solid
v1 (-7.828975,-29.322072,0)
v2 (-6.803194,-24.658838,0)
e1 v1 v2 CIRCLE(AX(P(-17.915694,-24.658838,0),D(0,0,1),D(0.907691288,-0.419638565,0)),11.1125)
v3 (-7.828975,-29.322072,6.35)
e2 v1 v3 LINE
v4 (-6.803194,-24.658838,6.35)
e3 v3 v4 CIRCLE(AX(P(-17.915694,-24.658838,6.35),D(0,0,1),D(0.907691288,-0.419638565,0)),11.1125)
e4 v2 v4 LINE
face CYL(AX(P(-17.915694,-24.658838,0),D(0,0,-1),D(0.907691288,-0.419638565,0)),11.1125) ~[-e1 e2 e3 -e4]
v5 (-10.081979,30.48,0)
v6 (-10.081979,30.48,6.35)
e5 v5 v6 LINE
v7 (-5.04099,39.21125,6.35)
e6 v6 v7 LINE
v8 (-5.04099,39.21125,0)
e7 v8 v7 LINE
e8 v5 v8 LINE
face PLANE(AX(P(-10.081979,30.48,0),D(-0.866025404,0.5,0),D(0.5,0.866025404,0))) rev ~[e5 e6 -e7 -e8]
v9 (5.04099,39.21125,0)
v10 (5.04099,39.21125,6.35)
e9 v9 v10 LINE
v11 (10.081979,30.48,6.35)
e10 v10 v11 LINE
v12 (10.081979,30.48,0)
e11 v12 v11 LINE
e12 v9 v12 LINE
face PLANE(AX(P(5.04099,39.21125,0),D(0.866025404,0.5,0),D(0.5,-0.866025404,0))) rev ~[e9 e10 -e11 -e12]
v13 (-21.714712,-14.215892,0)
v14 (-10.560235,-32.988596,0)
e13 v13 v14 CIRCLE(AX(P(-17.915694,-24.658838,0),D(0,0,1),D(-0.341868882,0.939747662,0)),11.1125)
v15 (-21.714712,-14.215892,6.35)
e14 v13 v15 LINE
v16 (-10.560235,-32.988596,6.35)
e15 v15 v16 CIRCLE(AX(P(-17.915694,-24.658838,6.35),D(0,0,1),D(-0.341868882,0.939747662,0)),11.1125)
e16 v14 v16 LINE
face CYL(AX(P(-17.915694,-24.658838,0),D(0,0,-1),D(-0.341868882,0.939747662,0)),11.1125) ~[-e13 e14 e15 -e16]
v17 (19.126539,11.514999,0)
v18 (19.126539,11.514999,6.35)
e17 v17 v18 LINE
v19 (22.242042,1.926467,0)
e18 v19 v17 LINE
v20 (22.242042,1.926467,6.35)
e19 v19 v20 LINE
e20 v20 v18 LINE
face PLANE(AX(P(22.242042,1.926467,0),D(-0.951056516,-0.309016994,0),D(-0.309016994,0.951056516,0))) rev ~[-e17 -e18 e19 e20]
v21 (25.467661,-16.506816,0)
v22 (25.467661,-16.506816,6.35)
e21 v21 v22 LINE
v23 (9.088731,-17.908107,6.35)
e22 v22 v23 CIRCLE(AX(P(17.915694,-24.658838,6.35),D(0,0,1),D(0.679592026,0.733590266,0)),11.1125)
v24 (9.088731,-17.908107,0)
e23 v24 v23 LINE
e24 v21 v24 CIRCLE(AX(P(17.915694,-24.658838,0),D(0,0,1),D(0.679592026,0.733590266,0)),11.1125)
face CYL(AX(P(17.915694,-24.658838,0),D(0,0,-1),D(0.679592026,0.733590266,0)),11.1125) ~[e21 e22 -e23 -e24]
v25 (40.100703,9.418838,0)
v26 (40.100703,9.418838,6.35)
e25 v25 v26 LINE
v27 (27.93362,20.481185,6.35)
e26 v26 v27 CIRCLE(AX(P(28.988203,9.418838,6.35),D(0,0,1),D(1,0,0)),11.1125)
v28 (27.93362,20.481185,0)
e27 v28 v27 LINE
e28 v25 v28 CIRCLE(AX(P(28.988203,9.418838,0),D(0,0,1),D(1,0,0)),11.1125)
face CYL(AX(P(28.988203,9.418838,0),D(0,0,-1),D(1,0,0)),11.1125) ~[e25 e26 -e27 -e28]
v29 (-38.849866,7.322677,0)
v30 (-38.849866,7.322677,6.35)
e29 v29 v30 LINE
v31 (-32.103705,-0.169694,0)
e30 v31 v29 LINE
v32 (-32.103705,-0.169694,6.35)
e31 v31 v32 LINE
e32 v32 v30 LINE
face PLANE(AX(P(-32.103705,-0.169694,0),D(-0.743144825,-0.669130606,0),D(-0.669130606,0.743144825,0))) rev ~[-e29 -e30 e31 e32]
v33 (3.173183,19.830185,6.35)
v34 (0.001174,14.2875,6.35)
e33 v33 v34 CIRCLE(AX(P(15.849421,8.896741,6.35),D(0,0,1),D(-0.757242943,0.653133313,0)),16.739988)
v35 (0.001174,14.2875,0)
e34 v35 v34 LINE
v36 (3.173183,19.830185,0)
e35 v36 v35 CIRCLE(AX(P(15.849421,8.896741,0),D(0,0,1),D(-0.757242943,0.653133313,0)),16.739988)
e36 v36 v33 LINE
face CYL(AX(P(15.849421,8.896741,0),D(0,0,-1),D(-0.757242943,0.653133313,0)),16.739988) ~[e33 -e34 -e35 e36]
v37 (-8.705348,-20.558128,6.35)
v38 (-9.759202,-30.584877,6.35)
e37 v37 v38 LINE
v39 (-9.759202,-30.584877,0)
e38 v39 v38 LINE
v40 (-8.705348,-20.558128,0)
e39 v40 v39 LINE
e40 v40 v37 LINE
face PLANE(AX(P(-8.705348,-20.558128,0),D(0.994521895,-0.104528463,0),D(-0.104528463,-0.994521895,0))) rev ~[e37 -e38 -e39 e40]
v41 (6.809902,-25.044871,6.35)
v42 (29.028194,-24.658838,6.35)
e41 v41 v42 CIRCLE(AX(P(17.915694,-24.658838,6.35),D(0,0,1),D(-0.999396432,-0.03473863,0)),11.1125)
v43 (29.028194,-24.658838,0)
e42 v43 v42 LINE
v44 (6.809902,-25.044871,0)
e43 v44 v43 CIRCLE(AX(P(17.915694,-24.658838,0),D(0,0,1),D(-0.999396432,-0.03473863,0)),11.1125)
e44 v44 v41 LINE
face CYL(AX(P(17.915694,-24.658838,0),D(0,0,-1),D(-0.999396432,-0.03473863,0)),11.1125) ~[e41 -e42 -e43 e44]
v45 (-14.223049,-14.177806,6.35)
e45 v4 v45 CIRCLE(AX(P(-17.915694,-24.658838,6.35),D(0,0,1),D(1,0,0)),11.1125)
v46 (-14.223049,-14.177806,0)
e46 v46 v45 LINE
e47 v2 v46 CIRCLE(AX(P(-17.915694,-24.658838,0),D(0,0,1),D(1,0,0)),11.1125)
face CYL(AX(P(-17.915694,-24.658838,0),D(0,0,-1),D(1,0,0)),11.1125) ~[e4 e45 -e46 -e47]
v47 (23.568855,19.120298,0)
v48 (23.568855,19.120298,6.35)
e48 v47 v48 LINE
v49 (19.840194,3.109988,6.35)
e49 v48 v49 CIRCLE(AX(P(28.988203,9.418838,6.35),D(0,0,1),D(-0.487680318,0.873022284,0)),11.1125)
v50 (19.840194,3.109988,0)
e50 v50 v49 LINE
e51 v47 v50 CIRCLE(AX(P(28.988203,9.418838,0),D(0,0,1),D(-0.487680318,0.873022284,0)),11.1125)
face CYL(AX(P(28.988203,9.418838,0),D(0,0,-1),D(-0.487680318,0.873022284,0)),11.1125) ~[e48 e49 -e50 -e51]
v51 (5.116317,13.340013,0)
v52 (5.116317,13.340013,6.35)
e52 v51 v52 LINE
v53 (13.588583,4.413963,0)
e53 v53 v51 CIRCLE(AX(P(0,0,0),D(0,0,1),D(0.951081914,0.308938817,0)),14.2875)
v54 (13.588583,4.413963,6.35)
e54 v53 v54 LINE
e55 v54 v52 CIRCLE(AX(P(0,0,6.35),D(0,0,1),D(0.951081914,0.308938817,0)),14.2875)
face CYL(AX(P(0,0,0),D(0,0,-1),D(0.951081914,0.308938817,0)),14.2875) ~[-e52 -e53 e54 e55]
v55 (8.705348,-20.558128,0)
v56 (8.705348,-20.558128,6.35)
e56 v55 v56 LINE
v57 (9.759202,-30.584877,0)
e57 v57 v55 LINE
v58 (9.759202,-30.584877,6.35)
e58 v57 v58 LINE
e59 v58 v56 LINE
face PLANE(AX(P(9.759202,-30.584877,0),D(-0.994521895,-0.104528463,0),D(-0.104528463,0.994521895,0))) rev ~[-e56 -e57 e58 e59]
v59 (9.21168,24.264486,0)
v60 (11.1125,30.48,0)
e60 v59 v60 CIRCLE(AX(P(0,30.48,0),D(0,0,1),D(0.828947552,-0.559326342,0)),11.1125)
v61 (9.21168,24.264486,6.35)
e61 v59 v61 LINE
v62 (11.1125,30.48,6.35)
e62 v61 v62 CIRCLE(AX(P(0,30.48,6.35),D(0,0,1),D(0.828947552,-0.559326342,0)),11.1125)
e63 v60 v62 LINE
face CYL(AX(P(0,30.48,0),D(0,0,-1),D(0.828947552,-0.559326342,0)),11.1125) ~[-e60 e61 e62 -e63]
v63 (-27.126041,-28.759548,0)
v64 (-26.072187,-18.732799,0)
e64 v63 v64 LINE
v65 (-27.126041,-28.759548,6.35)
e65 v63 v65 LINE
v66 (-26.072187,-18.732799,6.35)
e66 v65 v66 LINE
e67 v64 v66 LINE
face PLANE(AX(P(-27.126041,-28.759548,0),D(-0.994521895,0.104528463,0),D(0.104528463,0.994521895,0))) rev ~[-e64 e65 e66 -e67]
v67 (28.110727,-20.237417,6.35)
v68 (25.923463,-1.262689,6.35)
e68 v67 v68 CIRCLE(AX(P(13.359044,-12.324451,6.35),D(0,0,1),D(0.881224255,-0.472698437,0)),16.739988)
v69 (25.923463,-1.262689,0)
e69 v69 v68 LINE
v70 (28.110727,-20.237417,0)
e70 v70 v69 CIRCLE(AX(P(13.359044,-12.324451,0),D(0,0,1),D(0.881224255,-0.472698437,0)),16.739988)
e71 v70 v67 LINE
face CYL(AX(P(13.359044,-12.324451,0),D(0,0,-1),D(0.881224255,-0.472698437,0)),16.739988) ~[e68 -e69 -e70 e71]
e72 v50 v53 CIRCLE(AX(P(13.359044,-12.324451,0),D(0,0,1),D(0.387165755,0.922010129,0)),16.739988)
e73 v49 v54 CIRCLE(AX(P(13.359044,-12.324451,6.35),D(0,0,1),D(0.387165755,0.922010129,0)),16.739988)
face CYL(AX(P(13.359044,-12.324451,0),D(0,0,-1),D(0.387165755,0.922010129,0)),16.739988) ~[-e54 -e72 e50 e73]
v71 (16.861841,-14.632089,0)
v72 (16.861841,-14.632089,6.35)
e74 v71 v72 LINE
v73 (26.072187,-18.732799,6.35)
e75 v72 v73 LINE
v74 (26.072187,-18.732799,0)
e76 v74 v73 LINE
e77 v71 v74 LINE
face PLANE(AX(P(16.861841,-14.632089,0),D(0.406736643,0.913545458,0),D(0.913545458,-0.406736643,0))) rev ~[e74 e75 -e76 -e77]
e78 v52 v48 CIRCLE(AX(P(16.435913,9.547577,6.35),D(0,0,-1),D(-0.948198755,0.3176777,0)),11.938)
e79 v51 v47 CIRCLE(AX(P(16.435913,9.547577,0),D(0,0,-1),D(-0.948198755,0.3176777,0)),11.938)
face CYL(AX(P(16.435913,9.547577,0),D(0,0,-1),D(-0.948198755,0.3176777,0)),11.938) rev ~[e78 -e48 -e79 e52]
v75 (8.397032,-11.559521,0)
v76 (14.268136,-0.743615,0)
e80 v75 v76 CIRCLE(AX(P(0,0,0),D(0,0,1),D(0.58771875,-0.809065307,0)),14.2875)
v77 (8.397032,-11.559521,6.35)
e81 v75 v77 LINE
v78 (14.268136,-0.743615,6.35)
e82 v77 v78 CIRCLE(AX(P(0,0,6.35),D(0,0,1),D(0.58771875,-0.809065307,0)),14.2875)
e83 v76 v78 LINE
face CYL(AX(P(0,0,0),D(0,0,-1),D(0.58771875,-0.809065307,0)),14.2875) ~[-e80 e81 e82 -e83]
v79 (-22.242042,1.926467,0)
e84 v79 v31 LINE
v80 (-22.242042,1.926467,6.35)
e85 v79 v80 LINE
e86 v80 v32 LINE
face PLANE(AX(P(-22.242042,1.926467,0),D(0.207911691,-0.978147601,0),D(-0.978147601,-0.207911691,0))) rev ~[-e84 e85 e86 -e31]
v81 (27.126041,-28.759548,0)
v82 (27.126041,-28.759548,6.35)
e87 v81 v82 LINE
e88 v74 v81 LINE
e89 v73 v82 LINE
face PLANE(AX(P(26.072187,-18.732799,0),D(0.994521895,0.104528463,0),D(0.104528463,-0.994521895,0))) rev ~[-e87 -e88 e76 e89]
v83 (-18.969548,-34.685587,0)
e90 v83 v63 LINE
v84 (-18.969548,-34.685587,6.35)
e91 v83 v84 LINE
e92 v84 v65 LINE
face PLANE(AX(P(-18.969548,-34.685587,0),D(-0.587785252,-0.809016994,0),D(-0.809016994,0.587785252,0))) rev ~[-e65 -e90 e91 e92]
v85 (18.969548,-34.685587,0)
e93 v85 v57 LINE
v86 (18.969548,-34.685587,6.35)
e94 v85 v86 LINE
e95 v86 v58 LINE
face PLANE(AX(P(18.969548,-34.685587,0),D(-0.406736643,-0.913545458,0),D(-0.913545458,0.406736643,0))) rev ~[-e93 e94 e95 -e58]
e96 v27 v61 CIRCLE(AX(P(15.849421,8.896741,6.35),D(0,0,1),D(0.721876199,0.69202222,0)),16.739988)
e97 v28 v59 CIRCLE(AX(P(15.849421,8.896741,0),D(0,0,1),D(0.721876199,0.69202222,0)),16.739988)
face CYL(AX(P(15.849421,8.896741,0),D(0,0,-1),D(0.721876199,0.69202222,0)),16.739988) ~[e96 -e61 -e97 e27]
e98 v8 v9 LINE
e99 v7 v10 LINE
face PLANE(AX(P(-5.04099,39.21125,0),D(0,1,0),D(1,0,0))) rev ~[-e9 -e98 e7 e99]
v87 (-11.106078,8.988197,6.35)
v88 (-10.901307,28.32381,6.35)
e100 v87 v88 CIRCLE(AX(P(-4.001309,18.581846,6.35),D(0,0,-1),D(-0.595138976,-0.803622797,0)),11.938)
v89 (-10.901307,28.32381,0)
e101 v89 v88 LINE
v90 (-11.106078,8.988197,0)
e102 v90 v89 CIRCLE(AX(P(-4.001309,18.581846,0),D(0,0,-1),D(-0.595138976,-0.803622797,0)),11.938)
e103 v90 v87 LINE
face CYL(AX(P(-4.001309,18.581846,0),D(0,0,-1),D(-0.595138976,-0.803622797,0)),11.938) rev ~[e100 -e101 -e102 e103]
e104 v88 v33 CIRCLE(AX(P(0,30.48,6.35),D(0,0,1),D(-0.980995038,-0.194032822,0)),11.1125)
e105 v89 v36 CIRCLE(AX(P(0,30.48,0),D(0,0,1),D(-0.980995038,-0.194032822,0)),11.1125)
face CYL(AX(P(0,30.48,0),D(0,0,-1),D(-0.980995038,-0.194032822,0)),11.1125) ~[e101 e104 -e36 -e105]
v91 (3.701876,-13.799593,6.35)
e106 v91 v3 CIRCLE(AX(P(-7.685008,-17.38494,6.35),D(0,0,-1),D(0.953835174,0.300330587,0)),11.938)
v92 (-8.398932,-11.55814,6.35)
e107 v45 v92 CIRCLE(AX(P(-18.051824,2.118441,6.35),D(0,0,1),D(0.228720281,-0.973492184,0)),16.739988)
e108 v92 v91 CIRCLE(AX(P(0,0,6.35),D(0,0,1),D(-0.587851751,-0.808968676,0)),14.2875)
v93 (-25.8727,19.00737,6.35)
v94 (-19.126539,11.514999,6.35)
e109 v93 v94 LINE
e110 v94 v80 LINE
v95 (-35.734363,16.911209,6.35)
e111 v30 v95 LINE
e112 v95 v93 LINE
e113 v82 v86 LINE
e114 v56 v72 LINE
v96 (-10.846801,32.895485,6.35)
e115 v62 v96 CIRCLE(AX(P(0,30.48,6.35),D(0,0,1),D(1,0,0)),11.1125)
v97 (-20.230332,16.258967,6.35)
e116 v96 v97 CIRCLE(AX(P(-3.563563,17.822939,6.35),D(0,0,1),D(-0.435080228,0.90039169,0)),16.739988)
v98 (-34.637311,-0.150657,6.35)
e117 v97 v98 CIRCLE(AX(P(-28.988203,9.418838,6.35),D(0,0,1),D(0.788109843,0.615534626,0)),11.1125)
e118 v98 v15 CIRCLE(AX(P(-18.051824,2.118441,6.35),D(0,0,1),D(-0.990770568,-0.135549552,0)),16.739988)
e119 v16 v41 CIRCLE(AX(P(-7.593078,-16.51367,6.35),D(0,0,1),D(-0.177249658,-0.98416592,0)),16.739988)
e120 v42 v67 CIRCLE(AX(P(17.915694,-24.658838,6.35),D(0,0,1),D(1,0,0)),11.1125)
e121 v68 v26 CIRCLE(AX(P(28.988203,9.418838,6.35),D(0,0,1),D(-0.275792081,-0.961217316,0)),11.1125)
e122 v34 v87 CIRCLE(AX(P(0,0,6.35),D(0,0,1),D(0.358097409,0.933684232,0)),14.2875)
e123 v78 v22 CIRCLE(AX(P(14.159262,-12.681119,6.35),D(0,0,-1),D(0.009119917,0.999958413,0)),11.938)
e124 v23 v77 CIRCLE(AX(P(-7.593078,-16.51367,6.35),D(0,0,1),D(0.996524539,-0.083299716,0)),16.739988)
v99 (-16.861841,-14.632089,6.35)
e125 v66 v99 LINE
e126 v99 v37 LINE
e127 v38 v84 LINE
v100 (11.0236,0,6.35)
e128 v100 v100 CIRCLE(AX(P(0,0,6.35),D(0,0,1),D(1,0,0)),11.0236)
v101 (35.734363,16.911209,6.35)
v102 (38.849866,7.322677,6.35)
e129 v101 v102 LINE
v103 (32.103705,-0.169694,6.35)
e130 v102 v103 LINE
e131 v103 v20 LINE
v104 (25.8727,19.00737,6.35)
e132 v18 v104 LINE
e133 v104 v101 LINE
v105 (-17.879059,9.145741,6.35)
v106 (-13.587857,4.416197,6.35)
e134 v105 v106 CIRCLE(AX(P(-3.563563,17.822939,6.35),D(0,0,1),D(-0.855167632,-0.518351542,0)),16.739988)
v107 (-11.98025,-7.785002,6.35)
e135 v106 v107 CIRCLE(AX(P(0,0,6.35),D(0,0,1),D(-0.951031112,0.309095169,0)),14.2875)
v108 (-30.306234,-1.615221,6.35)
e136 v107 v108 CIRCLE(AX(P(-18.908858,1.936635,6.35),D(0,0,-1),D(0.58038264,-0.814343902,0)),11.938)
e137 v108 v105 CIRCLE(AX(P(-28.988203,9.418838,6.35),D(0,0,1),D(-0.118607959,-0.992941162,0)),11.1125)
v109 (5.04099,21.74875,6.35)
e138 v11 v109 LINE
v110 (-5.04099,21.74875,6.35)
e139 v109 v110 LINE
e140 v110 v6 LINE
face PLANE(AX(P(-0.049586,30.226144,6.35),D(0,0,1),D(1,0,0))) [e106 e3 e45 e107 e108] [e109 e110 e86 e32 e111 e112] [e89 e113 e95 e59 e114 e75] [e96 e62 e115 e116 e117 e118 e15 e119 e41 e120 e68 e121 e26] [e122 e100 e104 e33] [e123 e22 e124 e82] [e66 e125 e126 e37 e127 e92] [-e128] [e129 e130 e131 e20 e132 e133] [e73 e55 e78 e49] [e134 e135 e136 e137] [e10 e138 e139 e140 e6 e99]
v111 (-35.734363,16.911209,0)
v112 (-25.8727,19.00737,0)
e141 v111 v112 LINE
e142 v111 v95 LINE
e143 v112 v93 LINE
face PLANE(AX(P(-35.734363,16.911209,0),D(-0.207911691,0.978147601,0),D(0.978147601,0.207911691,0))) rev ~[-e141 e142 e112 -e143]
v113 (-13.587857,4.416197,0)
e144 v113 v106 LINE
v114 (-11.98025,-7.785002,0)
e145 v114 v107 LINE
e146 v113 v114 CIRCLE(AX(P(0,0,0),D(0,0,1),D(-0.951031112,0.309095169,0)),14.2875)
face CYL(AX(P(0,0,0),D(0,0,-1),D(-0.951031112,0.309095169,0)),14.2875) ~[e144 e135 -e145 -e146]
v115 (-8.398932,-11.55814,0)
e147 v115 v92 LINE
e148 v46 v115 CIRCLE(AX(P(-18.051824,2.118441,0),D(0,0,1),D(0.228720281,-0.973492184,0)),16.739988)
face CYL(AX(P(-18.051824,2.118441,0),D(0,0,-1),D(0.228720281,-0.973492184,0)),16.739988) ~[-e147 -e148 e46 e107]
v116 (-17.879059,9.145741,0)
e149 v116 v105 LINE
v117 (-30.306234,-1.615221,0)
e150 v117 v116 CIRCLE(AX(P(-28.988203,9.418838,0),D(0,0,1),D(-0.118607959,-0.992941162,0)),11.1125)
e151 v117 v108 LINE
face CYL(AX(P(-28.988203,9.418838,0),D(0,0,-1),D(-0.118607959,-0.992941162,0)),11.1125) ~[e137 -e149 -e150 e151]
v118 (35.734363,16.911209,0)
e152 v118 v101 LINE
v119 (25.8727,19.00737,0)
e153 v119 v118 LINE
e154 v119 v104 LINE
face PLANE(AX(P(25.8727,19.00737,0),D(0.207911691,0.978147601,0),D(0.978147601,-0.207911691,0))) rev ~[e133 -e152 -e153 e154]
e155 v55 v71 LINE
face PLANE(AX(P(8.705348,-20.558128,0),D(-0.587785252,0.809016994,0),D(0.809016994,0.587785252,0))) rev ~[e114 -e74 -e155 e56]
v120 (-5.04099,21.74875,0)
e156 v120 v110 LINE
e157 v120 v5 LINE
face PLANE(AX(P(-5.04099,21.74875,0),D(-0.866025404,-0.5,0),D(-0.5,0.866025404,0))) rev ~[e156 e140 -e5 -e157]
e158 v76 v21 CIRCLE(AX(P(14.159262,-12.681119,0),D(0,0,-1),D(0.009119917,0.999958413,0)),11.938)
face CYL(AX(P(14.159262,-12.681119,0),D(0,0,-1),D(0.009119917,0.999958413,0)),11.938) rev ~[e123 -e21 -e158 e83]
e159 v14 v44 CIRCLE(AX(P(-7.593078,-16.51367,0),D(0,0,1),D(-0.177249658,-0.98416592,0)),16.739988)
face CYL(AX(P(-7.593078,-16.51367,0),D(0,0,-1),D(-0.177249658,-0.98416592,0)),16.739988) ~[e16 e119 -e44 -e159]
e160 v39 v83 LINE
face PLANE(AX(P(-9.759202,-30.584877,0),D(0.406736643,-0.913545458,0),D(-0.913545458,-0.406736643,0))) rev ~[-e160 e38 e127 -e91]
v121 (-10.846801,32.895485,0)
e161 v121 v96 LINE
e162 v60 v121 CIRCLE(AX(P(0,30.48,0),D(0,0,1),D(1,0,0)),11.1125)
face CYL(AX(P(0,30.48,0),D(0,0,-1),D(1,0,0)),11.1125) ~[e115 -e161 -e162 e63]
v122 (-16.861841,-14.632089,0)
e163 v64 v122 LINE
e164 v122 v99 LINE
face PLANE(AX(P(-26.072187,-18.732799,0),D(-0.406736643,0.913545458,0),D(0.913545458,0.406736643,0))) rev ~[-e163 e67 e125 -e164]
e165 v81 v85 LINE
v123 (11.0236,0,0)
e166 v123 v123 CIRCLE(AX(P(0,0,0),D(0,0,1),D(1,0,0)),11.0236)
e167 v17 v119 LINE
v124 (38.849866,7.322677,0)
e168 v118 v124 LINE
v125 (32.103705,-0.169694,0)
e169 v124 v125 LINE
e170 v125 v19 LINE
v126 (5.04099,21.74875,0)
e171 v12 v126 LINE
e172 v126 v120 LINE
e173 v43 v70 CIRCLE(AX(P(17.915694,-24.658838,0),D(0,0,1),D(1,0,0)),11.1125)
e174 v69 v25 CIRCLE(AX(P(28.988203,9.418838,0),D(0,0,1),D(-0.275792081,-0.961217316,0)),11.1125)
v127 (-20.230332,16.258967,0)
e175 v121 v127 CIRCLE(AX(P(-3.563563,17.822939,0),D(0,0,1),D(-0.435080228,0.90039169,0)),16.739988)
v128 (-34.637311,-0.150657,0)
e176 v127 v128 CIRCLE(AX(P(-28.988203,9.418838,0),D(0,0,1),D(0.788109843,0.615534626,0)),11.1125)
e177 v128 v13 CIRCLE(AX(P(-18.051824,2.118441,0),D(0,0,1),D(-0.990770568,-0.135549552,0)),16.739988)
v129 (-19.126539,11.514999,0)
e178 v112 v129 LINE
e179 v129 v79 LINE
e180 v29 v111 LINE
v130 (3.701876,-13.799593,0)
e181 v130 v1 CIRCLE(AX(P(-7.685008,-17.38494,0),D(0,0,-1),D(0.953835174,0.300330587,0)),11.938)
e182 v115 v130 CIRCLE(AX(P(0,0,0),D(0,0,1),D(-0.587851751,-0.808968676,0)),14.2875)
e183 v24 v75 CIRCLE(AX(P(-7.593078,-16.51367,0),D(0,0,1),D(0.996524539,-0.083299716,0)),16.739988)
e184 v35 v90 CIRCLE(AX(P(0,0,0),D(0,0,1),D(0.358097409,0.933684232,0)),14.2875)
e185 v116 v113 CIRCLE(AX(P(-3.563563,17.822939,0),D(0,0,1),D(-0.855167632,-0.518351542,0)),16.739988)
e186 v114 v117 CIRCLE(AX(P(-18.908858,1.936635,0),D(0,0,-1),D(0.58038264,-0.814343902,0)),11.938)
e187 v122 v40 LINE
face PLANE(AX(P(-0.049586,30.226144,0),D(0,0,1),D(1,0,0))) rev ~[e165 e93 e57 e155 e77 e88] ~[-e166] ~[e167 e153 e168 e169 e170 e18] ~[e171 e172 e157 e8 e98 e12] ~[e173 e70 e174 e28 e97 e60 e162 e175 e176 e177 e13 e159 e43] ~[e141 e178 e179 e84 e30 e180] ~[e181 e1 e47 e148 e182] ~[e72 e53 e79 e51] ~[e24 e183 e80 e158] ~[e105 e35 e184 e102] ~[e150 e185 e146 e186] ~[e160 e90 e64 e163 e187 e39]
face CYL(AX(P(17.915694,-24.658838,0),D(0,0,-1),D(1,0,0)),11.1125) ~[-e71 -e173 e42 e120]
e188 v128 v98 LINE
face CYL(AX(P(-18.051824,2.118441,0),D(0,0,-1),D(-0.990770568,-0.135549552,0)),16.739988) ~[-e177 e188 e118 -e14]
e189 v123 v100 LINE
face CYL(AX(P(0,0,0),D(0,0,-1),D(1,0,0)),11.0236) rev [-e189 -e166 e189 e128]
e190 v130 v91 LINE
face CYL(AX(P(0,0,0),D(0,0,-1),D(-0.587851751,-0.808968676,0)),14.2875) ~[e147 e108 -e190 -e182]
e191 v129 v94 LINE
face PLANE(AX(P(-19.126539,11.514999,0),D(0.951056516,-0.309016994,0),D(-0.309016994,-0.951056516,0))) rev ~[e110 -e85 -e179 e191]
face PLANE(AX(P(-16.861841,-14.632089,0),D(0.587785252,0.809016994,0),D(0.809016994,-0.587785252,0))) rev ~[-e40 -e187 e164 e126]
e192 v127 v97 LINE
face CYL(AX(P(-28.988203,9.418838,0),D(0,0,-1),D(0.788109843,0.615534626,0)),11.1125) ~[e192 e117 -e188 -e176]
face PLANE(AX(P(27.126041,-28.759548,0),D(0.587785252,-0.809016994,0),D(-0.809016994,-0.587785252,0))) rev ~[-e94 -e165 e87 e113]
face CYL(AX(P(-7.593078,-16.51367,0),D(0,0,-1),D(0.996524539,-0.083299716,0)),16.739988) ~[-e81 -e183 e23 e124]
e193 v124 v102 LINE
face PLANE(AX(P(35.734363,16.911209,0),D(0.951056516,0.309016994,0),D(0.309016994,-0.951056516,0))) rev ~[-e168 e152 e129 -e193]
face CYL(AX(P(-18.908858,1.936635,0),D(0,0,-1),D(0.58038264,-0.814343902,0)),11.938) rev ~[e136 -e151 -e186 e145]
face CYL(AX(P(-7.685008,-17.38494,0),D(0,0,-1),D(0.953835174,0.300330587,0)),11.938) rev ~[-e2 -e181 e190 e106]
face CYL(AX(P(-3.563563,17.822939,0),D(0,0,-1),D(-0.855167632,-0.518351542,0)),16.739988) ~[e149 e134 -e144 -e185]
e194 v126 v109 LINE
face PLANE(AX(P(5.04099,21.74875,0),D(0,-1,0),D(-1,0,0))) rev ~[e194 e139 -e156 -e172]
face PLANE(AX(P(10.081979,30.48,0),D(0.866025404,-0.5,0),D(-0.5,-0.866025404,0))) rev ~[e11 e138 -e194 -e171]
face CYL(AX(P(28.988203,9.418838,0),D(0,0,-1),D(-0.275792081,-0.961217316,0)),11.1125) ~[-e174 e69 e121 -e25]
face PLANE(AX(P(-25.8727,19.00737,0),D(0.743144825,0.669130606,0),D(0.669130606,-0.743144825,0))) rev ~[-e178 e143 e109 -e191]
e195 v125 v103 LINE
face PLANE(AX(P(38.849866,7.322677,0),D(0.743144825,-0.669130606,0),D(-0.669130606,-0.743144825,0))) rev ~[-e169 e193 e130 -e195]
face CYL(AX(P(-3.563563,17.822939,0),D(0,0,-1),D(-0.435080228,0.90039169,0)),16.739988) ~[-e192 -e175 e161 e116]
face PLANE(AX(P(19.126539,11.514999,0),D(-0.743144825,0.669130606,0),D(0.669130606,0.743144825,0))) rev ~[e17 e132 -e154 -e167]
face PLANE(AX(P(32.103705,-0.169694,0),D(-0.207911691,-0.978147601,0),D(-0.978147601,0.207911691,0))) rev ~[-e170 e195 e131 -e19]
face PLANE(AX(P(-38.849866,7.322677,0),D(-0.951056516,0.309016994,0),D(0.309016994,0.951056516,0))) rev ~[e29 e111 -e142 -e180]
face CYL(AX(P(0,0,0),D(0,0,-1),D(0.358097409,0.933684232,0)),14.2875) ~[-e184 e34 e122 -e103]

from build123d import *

# Parameters (mm, degrees)
F0_R     = 11.0236
F1_DEPTH = 6.35


with BuildPart() as f1:
    # F0 (on Top) → F1 (new body)
    with BuildSketch(Plane.XY):
        with BuildLine():
            ThreePointArc((-10.9013073569, 28.323810268), (-5.7416369548, 20.9657337998), (3.1731830809, 19.8301847253))
            ThreePointArc((3.1731830809, 19.8301847253), (5.9411817185, 22.3894795146), (9.2116796693, 24.2644860293))
            ThreePointArc((9.2116796693, 24.2644860293), (10.6266750815, 27.2301641638), (11.1125, 30.48))
            ThreePointArc((11.1125, 30.48), (1.2150273194, 41.5258754684), (-10.8468007628, 32.8954853473))
            ThreePointArc((-10.8468007628, 32.8954853473), (-11.1117102623, 30.6124813052), (-10.9013073569, 28.323810268))
        make_face()
        Polygon((10.0819790757, 30.48), (5.0409895379, 21.74875), (-5.0409895379, 21.74875), (-10.0819790757, 30.48), (-5.0409895379, 39.21125), (5.0409895379, 39.21125), align=None, mode=Mode.SUBTRACT)
        with BuildLine():
            ThreePointArc((-30.3062335558, -1.6152206797), (-21.7138611437, 1.0181468036), (-17.8790589041, 9.1457405282))
            ThreePointArc((-17.8790589041, 9.1457405282), (-19.4577342712, 12.5691292531), (-20.2303319881, 16.2589665183))
            ThreePointArc((-20.2303319881, 16.2589665183), (-37.3389530107, 16.7504560982), (-34.6373114666, -0.1506565358))
            ThreePointArc((-34.6373114666, -0.1506565358), (-32.5479071329, -1.1080874889), (-30.3062335558, -1.6152206797))
        make_face()
        Polygon((-22.2420418444, 1.9264674079), (-32.103705488, -0.1696939086), (-38.8498662602, 7.3226766721), (-35.7343633889, 16.9112085692), (-25.8726997453, 19.0073698857), (-19.1265389731, 11.514999305), align=None, mode=Mode.SUBTRACT)
        with BuildLine():
            ThreePointArc((-14.2230491705, -14.1778062266), (-11.1849106676, -13.1482774657), (-8.3989318902, -11.5581399608))
            ThreePointArc((-8.3989318902, -11.5581399608), (-10.3627655441, -9.835941568), (-11.980250366, -7.7850020821))
            ThreePointArc((-11.980250366, -7.7850020821), (-22.7179291909, -9.3773746133), (-30.3062335558, -1.6152206797))
            ThreePointArc((-30.3062335558, -1.6152206797), (-32.5479071329, -1.1080874889), (-34.6373114666, -0.1506565358))
            ThreePointArc((-34.6373114666, -0.1506565358), (-30.3789037171, -9.207206787), (-21.7147124417, -14.215892099))
            ThreePointArc((-21.7147124417, -14.215892099), (-17.9721871235, -13.5464815853), (-14.2230491705, -14.1778062266))
        make_face()
        with BuildLine():
            ThreePointArc((-13.5878570147, 4.4161972328), (-12.556806984, 6.8161025973), (-11.1060779195, 8.9881972328))
            ThreePointArc((-11.1060779195, 8.9881972328), (-15.9386394287, 18.7082664756), (-10.9013073569, 28.323810268))
            ThreePointArc((-10.9013073569, 28.323810268), (-11.1117102623, 30.6124813052), (-10.8468007628, 32.8954853473))
            ThreePointArc((-10.8468007628, 32.8954853473), (-18.1441715308, 26.0468709702), (-20.2303319881, 16.2589665183))
            ThreePointArc((-20.2303319881, 16.2589665183), (-18.4808363051, 13.0358684619), (-17.8757026167, 9.4188379885))
            ThreePointArc((-17.8757026167, 9.4188379885), (-17.8765417202, 9.2822789468), (-17.8790589041, 9.1457405282))
            ThreePointArc((-17.8790589041, 9.1457405282), (-15.9610824387, 6.5744409909), (-13.5878570147, 4.4161972328))
        make_face()
        with BuildLine():
            ThreePointArc((-20.2303319881, 16.2589665183), (-19.4577342712, 12.5691292531), (-17.8790589041, 9.1457405282))
            ThreePointArc((-17.8790589041, 9.1457405282), (-17.8765417202, 9.2822789468), (-17.8757026167, 9.4188379885))
            ThreePointArc((-17.8757026167, 9.4188379885), (-18.4808363051, 13.0358684619), (-20.2303319881, 16.2589665183))
        make_face()
        with BuildLine():
            ThreePointArc((0.0011744209, 14.2874999517), (2.6022320378, 14.0485246439), (5.1163167301, 13.3400134695))
            ThreePointArc((5.1163167301, 13.3400134695), (12.8673082895, 20.9397191658), (23.5688550875, 19.1202981162))
            ThreePointArc((23.5688550875, 19.1202981162), (25.6804925176, 20.0276414155), (27.933619926, 20.4811845569))
            ThreePointArc((27.933619926, 20.4811845569), (19.1651890134, 25.3050583472), (9.2116796693, 24.2644860293))
            ThreePointArc((9.2116796693, 24.2644860293), (6.5773827127, 21.5231203591), (3.1731830809, 19.8301847253))
            ThreePointArc((3.1731830809, 19.8301847253), (1.3204192232, 17.2115054551), (0.0011744209, 14.2874999517))
        make_face()
        with BuildLine():
            ThreePointArc((25.9234631172, -1.2626894327), (23.1295865065, 1.2683300774), (19.8401939006, 3.1099876352))
            ThreePointArc((19.8401939006, 3.1099876352), (22.5022269053, 0.3955472739), (25.9234631172, -1.2626894327))
        make_face()
        with BuildLine():
            ThreePointArc((13.5885828467, 4.4139633516), (14.1116890143, 2.2344774365), (14.2875, 0))
            ThreePointArc((14.2875, 0), (14.2826580685, -0.3719337948), (14.2681355559, -0.7436154983))
            ThreePointArc((14.2681355559, -0.7436154983), (23.8910732953, -5.7668083163), (25.4676608769, -16.5068161571))
            ThreePointArc((25.4676608769, -16.5068161571), (26.9831274861, -18.234718196), (28.1107273058, -20.2374171613))
            ThreePointArc((28.1107273058, -20.2374171613), (29.9889097419, -10.4074848243), (25.9234631172, -1.2626894327))
            ThreePointArc((25.9234631172, -1.2626894327), (22.5022269053, 0.3955472739), (19.8401939006, 3.1099876352))
            ThreePointArc((19.8401939006, 3.1099876352), (16.777146398, 4.0628543779), (13.5885828467, 4.4139633516))
        make_face()
        with BuildLine():
            ThreePointArc((23.5688550875, 19.1202981162), (18.1653343546, 11.9393892838), (19.8401939006, 3.1099876352))
            ThreePointArc((19.8401939006, 3.1099876352), (23.1295865065, 1.2683300774), (25.9234631172, -1.2626894327))
            ThreePointArc((25.9234631172, -1.2626894327), (35.6751577744, 0.5434626743), (40.1007026167, 9.4188379885))
            ThreePointArc((40.1007026167, 9.4188379885), (36.4637830657, 17.6409638207), (27.933619926, 20.4811845569))
            ThreePointArc((27.933619926, 20.4811845569), (25.6804925176, 20.0276414155), (23.5688550875, 19.1202981162))
        make_face()
        Polygon((19.1265389731, 11.514999305), (25.8726997453, 19.0073698857), (35.7343633889, 16.9112085692), (38.8498662602, 7.3226766721), (32.103705488, -0.1696939086), (22.2420418444, 1.9264674079), align=None, mode=Mode.SUBTRACT)
        with BuildLine():
            ThreePointArc((9.0887310931, -17.9081066622), (9.048427485, -14.7005233582), (8.3970316373, -11.5595205754))
            ThreePointArc((8.3970316373, -11.5595205754), (6.1522656603, -12.8950487977), (3.7018759995, -13.799593122))
            ThreePointArc((3.7018759995, -13.799593122), (1.8981870347, -24.5038027118), (-7.8289750516, -29.3220715473))
            ThreePointArc((-7.8289750516, -29.3220715473), (-9.0040026085, -31.2973170358), (-10.5602350025, -32.9885962071))
            ThreePointArc((-10.5602350025, -32.9885962071), (-0.6310235074, -31.737237706), (6.8099016433, -25.0448710159))
            ThreePointArc((6.8099016433, -25.0448710159), (7.3297583374, -21.2786586997), (9.0887310931, -17.9081066622))
        make_face()
        with BuildLine():
            ThreePointArc((-21.7147124417, -14.215892099), (-17.9667228421, -14.6213304272), (-14.2230491705, -14.1778062266))
            ThreePointArc((-14.2230491705, -14.1778062266), (-17.9721871235, -13.5464815853), (-21.7147124417, -14.215892099))
        make_face()
        with BuildLine():
            ThreePointArc((-10.5602350025, -32.9885962071), (-9.0040026085, -31.2973170358), (-7.8289750516, -29.3220715473))
            ThreePointArc((-7.8289750516, -29.3220715473), (-7.0626689668, -27.0461991355), (-6.8031944899, -24.6588379885))
            ThreePointArc((-6.8031944899, -24.6588379885), (-8.8459045981, -18.2380461706), (-14.2230491705, -14.1778062266))
            ThreePointArc((-14.2230491705, -14.1778062266), (-17.9667228421, -14.6213304272), (-21.7147124417, -14.215892099))
            ThreePointArc((-21.7147124417, -14.215892099), (-27.4690014556, -30.3352789746), (-10.5602350025, -32.9885962071))
        make_face()
        Polygon((-8.7053483012, -20.5581276637), (-9.7592020807, -30.5848766032), (-18.9695482694, -34.685586928), (-27.1260406785, -28.7595483134), (-26.0721868991, -18.7327993739), (-16.8618407104, -14.6320890491), align=None, mode=Mode.SUBTRACT)
        with BuildLine():
            ThreePointArc((6.8099016433, -25.0448710159), (8.3536888883, -21.6056084179), (9.0887310931, -17.9081066622))
            ThreePointArc((9.0887310931, -17.9081066622), (7.3297583374, -21.2786586997), (6.8099016433, -25.0448710159))
        make_face()
        with BuildLine():
            ThreePointArc((28.1107273058, -20.2374171613), (26.9831274861, -18.234718196), (25.4676608769, -16.5068161571))
            ThreePointArc((25.4676608769, -16.5068161571), (16.968431003, -13.5867854175), (9.0887310931, -17.9081066622))
            ThreePointArc((9.0887310931, -17.9081066622), (8.3536888883, -21.6056084179), (6.8099016433, -25.0448710159))
            ThreePointArc((6.8099016433, -25.0448710159), (18.1087401348, -35.7696610737), (29.0281944899, -24.6588379885))
            ThreePointArc((29.0281944899, -24.6588379885), (28.7964104226, -22.4010344007), (28.1107273058, -20.2374171613))
        make_face()
        Polygon((16.8618407104, -14.6320890491), (26.0721868991, -18.7327993739), (27.1260406785, -28.7595483134), (18.9695482694, -34.685586928), (9.7592020807, -30.5848766032), (8.7053483012, -20.5581276637), align=None, mode=Mode.SUBTRACT)
        with BuildLine():
            ThreePointArc((14.2681355559, -0.7436154983), (14.2826580685, -0.3719337948), (14.2875, 0))
            ThreePointArc((14.2875, 0), (14.1116890143, 2.2344774365), (13.5885828467, 4.4139633516))
            ThreePointArc((13.5885828467, 4.4139633516), (10.3627655441, 9.835941568), (5.1163167301, 13.3400134695))
            ThreePointArc((5.1163167301, 13.3400134695), (2.6022320378, 14.0485246439), (0.0011744209, 14.2874999517))
            ThreePointArc((0.0011744209, 14.2874999517), (-6.1522656603, 12.8950487977), (-11.1060779195, 8.9881972328))
            ThreePointArc((-11.1060779195, 8.9881972328), (-12.556806984, 6.8161025973), (-13.5878570147, 4.4161972328))
            ThreePointArc((-13.5878570147, 4.4161972328), (-14.1650748299, -1.8663631244), (-11.980250366, -7.7850020821))
            ThreePointArc((-11.980250366, -7.7850020821), (-10.3627655441, -9.835941568), (-8.3989318902, -11.5581399608))
            ThreePointArc((-8.3989318902, -11.5581399608), (-2.6022320378, -14.0485246439), (3.7018759995, -13.799593122))
            ThreePointArc((3.7018759995, -13.799593122), (6.1522656603, -12.8950487977), (8.3970316373, -11.5595205754))
            ThreePointArc((8.3970316373, -11.5595205754), (12.556806984, -6.8161025973), (14.2681355559, -0.7436154983))
        make_face()
        Circle(F0_R, mode=Mode.SUBTRACT)
        with BuildLine():
            ThreePointArc((9.2116796693, 24.2644860293), (5.9411817185, 22.3894795146), (3.1731830809, 19.8301847253))
            ThreePointArc((3.1731830809, 19.8301847253), (6.5773827127, 21.5231203591), (9.2116796693, 24.2644860293))
        make_face()
    extrude(amount=F1_DEPTH)


solid = f1.part
